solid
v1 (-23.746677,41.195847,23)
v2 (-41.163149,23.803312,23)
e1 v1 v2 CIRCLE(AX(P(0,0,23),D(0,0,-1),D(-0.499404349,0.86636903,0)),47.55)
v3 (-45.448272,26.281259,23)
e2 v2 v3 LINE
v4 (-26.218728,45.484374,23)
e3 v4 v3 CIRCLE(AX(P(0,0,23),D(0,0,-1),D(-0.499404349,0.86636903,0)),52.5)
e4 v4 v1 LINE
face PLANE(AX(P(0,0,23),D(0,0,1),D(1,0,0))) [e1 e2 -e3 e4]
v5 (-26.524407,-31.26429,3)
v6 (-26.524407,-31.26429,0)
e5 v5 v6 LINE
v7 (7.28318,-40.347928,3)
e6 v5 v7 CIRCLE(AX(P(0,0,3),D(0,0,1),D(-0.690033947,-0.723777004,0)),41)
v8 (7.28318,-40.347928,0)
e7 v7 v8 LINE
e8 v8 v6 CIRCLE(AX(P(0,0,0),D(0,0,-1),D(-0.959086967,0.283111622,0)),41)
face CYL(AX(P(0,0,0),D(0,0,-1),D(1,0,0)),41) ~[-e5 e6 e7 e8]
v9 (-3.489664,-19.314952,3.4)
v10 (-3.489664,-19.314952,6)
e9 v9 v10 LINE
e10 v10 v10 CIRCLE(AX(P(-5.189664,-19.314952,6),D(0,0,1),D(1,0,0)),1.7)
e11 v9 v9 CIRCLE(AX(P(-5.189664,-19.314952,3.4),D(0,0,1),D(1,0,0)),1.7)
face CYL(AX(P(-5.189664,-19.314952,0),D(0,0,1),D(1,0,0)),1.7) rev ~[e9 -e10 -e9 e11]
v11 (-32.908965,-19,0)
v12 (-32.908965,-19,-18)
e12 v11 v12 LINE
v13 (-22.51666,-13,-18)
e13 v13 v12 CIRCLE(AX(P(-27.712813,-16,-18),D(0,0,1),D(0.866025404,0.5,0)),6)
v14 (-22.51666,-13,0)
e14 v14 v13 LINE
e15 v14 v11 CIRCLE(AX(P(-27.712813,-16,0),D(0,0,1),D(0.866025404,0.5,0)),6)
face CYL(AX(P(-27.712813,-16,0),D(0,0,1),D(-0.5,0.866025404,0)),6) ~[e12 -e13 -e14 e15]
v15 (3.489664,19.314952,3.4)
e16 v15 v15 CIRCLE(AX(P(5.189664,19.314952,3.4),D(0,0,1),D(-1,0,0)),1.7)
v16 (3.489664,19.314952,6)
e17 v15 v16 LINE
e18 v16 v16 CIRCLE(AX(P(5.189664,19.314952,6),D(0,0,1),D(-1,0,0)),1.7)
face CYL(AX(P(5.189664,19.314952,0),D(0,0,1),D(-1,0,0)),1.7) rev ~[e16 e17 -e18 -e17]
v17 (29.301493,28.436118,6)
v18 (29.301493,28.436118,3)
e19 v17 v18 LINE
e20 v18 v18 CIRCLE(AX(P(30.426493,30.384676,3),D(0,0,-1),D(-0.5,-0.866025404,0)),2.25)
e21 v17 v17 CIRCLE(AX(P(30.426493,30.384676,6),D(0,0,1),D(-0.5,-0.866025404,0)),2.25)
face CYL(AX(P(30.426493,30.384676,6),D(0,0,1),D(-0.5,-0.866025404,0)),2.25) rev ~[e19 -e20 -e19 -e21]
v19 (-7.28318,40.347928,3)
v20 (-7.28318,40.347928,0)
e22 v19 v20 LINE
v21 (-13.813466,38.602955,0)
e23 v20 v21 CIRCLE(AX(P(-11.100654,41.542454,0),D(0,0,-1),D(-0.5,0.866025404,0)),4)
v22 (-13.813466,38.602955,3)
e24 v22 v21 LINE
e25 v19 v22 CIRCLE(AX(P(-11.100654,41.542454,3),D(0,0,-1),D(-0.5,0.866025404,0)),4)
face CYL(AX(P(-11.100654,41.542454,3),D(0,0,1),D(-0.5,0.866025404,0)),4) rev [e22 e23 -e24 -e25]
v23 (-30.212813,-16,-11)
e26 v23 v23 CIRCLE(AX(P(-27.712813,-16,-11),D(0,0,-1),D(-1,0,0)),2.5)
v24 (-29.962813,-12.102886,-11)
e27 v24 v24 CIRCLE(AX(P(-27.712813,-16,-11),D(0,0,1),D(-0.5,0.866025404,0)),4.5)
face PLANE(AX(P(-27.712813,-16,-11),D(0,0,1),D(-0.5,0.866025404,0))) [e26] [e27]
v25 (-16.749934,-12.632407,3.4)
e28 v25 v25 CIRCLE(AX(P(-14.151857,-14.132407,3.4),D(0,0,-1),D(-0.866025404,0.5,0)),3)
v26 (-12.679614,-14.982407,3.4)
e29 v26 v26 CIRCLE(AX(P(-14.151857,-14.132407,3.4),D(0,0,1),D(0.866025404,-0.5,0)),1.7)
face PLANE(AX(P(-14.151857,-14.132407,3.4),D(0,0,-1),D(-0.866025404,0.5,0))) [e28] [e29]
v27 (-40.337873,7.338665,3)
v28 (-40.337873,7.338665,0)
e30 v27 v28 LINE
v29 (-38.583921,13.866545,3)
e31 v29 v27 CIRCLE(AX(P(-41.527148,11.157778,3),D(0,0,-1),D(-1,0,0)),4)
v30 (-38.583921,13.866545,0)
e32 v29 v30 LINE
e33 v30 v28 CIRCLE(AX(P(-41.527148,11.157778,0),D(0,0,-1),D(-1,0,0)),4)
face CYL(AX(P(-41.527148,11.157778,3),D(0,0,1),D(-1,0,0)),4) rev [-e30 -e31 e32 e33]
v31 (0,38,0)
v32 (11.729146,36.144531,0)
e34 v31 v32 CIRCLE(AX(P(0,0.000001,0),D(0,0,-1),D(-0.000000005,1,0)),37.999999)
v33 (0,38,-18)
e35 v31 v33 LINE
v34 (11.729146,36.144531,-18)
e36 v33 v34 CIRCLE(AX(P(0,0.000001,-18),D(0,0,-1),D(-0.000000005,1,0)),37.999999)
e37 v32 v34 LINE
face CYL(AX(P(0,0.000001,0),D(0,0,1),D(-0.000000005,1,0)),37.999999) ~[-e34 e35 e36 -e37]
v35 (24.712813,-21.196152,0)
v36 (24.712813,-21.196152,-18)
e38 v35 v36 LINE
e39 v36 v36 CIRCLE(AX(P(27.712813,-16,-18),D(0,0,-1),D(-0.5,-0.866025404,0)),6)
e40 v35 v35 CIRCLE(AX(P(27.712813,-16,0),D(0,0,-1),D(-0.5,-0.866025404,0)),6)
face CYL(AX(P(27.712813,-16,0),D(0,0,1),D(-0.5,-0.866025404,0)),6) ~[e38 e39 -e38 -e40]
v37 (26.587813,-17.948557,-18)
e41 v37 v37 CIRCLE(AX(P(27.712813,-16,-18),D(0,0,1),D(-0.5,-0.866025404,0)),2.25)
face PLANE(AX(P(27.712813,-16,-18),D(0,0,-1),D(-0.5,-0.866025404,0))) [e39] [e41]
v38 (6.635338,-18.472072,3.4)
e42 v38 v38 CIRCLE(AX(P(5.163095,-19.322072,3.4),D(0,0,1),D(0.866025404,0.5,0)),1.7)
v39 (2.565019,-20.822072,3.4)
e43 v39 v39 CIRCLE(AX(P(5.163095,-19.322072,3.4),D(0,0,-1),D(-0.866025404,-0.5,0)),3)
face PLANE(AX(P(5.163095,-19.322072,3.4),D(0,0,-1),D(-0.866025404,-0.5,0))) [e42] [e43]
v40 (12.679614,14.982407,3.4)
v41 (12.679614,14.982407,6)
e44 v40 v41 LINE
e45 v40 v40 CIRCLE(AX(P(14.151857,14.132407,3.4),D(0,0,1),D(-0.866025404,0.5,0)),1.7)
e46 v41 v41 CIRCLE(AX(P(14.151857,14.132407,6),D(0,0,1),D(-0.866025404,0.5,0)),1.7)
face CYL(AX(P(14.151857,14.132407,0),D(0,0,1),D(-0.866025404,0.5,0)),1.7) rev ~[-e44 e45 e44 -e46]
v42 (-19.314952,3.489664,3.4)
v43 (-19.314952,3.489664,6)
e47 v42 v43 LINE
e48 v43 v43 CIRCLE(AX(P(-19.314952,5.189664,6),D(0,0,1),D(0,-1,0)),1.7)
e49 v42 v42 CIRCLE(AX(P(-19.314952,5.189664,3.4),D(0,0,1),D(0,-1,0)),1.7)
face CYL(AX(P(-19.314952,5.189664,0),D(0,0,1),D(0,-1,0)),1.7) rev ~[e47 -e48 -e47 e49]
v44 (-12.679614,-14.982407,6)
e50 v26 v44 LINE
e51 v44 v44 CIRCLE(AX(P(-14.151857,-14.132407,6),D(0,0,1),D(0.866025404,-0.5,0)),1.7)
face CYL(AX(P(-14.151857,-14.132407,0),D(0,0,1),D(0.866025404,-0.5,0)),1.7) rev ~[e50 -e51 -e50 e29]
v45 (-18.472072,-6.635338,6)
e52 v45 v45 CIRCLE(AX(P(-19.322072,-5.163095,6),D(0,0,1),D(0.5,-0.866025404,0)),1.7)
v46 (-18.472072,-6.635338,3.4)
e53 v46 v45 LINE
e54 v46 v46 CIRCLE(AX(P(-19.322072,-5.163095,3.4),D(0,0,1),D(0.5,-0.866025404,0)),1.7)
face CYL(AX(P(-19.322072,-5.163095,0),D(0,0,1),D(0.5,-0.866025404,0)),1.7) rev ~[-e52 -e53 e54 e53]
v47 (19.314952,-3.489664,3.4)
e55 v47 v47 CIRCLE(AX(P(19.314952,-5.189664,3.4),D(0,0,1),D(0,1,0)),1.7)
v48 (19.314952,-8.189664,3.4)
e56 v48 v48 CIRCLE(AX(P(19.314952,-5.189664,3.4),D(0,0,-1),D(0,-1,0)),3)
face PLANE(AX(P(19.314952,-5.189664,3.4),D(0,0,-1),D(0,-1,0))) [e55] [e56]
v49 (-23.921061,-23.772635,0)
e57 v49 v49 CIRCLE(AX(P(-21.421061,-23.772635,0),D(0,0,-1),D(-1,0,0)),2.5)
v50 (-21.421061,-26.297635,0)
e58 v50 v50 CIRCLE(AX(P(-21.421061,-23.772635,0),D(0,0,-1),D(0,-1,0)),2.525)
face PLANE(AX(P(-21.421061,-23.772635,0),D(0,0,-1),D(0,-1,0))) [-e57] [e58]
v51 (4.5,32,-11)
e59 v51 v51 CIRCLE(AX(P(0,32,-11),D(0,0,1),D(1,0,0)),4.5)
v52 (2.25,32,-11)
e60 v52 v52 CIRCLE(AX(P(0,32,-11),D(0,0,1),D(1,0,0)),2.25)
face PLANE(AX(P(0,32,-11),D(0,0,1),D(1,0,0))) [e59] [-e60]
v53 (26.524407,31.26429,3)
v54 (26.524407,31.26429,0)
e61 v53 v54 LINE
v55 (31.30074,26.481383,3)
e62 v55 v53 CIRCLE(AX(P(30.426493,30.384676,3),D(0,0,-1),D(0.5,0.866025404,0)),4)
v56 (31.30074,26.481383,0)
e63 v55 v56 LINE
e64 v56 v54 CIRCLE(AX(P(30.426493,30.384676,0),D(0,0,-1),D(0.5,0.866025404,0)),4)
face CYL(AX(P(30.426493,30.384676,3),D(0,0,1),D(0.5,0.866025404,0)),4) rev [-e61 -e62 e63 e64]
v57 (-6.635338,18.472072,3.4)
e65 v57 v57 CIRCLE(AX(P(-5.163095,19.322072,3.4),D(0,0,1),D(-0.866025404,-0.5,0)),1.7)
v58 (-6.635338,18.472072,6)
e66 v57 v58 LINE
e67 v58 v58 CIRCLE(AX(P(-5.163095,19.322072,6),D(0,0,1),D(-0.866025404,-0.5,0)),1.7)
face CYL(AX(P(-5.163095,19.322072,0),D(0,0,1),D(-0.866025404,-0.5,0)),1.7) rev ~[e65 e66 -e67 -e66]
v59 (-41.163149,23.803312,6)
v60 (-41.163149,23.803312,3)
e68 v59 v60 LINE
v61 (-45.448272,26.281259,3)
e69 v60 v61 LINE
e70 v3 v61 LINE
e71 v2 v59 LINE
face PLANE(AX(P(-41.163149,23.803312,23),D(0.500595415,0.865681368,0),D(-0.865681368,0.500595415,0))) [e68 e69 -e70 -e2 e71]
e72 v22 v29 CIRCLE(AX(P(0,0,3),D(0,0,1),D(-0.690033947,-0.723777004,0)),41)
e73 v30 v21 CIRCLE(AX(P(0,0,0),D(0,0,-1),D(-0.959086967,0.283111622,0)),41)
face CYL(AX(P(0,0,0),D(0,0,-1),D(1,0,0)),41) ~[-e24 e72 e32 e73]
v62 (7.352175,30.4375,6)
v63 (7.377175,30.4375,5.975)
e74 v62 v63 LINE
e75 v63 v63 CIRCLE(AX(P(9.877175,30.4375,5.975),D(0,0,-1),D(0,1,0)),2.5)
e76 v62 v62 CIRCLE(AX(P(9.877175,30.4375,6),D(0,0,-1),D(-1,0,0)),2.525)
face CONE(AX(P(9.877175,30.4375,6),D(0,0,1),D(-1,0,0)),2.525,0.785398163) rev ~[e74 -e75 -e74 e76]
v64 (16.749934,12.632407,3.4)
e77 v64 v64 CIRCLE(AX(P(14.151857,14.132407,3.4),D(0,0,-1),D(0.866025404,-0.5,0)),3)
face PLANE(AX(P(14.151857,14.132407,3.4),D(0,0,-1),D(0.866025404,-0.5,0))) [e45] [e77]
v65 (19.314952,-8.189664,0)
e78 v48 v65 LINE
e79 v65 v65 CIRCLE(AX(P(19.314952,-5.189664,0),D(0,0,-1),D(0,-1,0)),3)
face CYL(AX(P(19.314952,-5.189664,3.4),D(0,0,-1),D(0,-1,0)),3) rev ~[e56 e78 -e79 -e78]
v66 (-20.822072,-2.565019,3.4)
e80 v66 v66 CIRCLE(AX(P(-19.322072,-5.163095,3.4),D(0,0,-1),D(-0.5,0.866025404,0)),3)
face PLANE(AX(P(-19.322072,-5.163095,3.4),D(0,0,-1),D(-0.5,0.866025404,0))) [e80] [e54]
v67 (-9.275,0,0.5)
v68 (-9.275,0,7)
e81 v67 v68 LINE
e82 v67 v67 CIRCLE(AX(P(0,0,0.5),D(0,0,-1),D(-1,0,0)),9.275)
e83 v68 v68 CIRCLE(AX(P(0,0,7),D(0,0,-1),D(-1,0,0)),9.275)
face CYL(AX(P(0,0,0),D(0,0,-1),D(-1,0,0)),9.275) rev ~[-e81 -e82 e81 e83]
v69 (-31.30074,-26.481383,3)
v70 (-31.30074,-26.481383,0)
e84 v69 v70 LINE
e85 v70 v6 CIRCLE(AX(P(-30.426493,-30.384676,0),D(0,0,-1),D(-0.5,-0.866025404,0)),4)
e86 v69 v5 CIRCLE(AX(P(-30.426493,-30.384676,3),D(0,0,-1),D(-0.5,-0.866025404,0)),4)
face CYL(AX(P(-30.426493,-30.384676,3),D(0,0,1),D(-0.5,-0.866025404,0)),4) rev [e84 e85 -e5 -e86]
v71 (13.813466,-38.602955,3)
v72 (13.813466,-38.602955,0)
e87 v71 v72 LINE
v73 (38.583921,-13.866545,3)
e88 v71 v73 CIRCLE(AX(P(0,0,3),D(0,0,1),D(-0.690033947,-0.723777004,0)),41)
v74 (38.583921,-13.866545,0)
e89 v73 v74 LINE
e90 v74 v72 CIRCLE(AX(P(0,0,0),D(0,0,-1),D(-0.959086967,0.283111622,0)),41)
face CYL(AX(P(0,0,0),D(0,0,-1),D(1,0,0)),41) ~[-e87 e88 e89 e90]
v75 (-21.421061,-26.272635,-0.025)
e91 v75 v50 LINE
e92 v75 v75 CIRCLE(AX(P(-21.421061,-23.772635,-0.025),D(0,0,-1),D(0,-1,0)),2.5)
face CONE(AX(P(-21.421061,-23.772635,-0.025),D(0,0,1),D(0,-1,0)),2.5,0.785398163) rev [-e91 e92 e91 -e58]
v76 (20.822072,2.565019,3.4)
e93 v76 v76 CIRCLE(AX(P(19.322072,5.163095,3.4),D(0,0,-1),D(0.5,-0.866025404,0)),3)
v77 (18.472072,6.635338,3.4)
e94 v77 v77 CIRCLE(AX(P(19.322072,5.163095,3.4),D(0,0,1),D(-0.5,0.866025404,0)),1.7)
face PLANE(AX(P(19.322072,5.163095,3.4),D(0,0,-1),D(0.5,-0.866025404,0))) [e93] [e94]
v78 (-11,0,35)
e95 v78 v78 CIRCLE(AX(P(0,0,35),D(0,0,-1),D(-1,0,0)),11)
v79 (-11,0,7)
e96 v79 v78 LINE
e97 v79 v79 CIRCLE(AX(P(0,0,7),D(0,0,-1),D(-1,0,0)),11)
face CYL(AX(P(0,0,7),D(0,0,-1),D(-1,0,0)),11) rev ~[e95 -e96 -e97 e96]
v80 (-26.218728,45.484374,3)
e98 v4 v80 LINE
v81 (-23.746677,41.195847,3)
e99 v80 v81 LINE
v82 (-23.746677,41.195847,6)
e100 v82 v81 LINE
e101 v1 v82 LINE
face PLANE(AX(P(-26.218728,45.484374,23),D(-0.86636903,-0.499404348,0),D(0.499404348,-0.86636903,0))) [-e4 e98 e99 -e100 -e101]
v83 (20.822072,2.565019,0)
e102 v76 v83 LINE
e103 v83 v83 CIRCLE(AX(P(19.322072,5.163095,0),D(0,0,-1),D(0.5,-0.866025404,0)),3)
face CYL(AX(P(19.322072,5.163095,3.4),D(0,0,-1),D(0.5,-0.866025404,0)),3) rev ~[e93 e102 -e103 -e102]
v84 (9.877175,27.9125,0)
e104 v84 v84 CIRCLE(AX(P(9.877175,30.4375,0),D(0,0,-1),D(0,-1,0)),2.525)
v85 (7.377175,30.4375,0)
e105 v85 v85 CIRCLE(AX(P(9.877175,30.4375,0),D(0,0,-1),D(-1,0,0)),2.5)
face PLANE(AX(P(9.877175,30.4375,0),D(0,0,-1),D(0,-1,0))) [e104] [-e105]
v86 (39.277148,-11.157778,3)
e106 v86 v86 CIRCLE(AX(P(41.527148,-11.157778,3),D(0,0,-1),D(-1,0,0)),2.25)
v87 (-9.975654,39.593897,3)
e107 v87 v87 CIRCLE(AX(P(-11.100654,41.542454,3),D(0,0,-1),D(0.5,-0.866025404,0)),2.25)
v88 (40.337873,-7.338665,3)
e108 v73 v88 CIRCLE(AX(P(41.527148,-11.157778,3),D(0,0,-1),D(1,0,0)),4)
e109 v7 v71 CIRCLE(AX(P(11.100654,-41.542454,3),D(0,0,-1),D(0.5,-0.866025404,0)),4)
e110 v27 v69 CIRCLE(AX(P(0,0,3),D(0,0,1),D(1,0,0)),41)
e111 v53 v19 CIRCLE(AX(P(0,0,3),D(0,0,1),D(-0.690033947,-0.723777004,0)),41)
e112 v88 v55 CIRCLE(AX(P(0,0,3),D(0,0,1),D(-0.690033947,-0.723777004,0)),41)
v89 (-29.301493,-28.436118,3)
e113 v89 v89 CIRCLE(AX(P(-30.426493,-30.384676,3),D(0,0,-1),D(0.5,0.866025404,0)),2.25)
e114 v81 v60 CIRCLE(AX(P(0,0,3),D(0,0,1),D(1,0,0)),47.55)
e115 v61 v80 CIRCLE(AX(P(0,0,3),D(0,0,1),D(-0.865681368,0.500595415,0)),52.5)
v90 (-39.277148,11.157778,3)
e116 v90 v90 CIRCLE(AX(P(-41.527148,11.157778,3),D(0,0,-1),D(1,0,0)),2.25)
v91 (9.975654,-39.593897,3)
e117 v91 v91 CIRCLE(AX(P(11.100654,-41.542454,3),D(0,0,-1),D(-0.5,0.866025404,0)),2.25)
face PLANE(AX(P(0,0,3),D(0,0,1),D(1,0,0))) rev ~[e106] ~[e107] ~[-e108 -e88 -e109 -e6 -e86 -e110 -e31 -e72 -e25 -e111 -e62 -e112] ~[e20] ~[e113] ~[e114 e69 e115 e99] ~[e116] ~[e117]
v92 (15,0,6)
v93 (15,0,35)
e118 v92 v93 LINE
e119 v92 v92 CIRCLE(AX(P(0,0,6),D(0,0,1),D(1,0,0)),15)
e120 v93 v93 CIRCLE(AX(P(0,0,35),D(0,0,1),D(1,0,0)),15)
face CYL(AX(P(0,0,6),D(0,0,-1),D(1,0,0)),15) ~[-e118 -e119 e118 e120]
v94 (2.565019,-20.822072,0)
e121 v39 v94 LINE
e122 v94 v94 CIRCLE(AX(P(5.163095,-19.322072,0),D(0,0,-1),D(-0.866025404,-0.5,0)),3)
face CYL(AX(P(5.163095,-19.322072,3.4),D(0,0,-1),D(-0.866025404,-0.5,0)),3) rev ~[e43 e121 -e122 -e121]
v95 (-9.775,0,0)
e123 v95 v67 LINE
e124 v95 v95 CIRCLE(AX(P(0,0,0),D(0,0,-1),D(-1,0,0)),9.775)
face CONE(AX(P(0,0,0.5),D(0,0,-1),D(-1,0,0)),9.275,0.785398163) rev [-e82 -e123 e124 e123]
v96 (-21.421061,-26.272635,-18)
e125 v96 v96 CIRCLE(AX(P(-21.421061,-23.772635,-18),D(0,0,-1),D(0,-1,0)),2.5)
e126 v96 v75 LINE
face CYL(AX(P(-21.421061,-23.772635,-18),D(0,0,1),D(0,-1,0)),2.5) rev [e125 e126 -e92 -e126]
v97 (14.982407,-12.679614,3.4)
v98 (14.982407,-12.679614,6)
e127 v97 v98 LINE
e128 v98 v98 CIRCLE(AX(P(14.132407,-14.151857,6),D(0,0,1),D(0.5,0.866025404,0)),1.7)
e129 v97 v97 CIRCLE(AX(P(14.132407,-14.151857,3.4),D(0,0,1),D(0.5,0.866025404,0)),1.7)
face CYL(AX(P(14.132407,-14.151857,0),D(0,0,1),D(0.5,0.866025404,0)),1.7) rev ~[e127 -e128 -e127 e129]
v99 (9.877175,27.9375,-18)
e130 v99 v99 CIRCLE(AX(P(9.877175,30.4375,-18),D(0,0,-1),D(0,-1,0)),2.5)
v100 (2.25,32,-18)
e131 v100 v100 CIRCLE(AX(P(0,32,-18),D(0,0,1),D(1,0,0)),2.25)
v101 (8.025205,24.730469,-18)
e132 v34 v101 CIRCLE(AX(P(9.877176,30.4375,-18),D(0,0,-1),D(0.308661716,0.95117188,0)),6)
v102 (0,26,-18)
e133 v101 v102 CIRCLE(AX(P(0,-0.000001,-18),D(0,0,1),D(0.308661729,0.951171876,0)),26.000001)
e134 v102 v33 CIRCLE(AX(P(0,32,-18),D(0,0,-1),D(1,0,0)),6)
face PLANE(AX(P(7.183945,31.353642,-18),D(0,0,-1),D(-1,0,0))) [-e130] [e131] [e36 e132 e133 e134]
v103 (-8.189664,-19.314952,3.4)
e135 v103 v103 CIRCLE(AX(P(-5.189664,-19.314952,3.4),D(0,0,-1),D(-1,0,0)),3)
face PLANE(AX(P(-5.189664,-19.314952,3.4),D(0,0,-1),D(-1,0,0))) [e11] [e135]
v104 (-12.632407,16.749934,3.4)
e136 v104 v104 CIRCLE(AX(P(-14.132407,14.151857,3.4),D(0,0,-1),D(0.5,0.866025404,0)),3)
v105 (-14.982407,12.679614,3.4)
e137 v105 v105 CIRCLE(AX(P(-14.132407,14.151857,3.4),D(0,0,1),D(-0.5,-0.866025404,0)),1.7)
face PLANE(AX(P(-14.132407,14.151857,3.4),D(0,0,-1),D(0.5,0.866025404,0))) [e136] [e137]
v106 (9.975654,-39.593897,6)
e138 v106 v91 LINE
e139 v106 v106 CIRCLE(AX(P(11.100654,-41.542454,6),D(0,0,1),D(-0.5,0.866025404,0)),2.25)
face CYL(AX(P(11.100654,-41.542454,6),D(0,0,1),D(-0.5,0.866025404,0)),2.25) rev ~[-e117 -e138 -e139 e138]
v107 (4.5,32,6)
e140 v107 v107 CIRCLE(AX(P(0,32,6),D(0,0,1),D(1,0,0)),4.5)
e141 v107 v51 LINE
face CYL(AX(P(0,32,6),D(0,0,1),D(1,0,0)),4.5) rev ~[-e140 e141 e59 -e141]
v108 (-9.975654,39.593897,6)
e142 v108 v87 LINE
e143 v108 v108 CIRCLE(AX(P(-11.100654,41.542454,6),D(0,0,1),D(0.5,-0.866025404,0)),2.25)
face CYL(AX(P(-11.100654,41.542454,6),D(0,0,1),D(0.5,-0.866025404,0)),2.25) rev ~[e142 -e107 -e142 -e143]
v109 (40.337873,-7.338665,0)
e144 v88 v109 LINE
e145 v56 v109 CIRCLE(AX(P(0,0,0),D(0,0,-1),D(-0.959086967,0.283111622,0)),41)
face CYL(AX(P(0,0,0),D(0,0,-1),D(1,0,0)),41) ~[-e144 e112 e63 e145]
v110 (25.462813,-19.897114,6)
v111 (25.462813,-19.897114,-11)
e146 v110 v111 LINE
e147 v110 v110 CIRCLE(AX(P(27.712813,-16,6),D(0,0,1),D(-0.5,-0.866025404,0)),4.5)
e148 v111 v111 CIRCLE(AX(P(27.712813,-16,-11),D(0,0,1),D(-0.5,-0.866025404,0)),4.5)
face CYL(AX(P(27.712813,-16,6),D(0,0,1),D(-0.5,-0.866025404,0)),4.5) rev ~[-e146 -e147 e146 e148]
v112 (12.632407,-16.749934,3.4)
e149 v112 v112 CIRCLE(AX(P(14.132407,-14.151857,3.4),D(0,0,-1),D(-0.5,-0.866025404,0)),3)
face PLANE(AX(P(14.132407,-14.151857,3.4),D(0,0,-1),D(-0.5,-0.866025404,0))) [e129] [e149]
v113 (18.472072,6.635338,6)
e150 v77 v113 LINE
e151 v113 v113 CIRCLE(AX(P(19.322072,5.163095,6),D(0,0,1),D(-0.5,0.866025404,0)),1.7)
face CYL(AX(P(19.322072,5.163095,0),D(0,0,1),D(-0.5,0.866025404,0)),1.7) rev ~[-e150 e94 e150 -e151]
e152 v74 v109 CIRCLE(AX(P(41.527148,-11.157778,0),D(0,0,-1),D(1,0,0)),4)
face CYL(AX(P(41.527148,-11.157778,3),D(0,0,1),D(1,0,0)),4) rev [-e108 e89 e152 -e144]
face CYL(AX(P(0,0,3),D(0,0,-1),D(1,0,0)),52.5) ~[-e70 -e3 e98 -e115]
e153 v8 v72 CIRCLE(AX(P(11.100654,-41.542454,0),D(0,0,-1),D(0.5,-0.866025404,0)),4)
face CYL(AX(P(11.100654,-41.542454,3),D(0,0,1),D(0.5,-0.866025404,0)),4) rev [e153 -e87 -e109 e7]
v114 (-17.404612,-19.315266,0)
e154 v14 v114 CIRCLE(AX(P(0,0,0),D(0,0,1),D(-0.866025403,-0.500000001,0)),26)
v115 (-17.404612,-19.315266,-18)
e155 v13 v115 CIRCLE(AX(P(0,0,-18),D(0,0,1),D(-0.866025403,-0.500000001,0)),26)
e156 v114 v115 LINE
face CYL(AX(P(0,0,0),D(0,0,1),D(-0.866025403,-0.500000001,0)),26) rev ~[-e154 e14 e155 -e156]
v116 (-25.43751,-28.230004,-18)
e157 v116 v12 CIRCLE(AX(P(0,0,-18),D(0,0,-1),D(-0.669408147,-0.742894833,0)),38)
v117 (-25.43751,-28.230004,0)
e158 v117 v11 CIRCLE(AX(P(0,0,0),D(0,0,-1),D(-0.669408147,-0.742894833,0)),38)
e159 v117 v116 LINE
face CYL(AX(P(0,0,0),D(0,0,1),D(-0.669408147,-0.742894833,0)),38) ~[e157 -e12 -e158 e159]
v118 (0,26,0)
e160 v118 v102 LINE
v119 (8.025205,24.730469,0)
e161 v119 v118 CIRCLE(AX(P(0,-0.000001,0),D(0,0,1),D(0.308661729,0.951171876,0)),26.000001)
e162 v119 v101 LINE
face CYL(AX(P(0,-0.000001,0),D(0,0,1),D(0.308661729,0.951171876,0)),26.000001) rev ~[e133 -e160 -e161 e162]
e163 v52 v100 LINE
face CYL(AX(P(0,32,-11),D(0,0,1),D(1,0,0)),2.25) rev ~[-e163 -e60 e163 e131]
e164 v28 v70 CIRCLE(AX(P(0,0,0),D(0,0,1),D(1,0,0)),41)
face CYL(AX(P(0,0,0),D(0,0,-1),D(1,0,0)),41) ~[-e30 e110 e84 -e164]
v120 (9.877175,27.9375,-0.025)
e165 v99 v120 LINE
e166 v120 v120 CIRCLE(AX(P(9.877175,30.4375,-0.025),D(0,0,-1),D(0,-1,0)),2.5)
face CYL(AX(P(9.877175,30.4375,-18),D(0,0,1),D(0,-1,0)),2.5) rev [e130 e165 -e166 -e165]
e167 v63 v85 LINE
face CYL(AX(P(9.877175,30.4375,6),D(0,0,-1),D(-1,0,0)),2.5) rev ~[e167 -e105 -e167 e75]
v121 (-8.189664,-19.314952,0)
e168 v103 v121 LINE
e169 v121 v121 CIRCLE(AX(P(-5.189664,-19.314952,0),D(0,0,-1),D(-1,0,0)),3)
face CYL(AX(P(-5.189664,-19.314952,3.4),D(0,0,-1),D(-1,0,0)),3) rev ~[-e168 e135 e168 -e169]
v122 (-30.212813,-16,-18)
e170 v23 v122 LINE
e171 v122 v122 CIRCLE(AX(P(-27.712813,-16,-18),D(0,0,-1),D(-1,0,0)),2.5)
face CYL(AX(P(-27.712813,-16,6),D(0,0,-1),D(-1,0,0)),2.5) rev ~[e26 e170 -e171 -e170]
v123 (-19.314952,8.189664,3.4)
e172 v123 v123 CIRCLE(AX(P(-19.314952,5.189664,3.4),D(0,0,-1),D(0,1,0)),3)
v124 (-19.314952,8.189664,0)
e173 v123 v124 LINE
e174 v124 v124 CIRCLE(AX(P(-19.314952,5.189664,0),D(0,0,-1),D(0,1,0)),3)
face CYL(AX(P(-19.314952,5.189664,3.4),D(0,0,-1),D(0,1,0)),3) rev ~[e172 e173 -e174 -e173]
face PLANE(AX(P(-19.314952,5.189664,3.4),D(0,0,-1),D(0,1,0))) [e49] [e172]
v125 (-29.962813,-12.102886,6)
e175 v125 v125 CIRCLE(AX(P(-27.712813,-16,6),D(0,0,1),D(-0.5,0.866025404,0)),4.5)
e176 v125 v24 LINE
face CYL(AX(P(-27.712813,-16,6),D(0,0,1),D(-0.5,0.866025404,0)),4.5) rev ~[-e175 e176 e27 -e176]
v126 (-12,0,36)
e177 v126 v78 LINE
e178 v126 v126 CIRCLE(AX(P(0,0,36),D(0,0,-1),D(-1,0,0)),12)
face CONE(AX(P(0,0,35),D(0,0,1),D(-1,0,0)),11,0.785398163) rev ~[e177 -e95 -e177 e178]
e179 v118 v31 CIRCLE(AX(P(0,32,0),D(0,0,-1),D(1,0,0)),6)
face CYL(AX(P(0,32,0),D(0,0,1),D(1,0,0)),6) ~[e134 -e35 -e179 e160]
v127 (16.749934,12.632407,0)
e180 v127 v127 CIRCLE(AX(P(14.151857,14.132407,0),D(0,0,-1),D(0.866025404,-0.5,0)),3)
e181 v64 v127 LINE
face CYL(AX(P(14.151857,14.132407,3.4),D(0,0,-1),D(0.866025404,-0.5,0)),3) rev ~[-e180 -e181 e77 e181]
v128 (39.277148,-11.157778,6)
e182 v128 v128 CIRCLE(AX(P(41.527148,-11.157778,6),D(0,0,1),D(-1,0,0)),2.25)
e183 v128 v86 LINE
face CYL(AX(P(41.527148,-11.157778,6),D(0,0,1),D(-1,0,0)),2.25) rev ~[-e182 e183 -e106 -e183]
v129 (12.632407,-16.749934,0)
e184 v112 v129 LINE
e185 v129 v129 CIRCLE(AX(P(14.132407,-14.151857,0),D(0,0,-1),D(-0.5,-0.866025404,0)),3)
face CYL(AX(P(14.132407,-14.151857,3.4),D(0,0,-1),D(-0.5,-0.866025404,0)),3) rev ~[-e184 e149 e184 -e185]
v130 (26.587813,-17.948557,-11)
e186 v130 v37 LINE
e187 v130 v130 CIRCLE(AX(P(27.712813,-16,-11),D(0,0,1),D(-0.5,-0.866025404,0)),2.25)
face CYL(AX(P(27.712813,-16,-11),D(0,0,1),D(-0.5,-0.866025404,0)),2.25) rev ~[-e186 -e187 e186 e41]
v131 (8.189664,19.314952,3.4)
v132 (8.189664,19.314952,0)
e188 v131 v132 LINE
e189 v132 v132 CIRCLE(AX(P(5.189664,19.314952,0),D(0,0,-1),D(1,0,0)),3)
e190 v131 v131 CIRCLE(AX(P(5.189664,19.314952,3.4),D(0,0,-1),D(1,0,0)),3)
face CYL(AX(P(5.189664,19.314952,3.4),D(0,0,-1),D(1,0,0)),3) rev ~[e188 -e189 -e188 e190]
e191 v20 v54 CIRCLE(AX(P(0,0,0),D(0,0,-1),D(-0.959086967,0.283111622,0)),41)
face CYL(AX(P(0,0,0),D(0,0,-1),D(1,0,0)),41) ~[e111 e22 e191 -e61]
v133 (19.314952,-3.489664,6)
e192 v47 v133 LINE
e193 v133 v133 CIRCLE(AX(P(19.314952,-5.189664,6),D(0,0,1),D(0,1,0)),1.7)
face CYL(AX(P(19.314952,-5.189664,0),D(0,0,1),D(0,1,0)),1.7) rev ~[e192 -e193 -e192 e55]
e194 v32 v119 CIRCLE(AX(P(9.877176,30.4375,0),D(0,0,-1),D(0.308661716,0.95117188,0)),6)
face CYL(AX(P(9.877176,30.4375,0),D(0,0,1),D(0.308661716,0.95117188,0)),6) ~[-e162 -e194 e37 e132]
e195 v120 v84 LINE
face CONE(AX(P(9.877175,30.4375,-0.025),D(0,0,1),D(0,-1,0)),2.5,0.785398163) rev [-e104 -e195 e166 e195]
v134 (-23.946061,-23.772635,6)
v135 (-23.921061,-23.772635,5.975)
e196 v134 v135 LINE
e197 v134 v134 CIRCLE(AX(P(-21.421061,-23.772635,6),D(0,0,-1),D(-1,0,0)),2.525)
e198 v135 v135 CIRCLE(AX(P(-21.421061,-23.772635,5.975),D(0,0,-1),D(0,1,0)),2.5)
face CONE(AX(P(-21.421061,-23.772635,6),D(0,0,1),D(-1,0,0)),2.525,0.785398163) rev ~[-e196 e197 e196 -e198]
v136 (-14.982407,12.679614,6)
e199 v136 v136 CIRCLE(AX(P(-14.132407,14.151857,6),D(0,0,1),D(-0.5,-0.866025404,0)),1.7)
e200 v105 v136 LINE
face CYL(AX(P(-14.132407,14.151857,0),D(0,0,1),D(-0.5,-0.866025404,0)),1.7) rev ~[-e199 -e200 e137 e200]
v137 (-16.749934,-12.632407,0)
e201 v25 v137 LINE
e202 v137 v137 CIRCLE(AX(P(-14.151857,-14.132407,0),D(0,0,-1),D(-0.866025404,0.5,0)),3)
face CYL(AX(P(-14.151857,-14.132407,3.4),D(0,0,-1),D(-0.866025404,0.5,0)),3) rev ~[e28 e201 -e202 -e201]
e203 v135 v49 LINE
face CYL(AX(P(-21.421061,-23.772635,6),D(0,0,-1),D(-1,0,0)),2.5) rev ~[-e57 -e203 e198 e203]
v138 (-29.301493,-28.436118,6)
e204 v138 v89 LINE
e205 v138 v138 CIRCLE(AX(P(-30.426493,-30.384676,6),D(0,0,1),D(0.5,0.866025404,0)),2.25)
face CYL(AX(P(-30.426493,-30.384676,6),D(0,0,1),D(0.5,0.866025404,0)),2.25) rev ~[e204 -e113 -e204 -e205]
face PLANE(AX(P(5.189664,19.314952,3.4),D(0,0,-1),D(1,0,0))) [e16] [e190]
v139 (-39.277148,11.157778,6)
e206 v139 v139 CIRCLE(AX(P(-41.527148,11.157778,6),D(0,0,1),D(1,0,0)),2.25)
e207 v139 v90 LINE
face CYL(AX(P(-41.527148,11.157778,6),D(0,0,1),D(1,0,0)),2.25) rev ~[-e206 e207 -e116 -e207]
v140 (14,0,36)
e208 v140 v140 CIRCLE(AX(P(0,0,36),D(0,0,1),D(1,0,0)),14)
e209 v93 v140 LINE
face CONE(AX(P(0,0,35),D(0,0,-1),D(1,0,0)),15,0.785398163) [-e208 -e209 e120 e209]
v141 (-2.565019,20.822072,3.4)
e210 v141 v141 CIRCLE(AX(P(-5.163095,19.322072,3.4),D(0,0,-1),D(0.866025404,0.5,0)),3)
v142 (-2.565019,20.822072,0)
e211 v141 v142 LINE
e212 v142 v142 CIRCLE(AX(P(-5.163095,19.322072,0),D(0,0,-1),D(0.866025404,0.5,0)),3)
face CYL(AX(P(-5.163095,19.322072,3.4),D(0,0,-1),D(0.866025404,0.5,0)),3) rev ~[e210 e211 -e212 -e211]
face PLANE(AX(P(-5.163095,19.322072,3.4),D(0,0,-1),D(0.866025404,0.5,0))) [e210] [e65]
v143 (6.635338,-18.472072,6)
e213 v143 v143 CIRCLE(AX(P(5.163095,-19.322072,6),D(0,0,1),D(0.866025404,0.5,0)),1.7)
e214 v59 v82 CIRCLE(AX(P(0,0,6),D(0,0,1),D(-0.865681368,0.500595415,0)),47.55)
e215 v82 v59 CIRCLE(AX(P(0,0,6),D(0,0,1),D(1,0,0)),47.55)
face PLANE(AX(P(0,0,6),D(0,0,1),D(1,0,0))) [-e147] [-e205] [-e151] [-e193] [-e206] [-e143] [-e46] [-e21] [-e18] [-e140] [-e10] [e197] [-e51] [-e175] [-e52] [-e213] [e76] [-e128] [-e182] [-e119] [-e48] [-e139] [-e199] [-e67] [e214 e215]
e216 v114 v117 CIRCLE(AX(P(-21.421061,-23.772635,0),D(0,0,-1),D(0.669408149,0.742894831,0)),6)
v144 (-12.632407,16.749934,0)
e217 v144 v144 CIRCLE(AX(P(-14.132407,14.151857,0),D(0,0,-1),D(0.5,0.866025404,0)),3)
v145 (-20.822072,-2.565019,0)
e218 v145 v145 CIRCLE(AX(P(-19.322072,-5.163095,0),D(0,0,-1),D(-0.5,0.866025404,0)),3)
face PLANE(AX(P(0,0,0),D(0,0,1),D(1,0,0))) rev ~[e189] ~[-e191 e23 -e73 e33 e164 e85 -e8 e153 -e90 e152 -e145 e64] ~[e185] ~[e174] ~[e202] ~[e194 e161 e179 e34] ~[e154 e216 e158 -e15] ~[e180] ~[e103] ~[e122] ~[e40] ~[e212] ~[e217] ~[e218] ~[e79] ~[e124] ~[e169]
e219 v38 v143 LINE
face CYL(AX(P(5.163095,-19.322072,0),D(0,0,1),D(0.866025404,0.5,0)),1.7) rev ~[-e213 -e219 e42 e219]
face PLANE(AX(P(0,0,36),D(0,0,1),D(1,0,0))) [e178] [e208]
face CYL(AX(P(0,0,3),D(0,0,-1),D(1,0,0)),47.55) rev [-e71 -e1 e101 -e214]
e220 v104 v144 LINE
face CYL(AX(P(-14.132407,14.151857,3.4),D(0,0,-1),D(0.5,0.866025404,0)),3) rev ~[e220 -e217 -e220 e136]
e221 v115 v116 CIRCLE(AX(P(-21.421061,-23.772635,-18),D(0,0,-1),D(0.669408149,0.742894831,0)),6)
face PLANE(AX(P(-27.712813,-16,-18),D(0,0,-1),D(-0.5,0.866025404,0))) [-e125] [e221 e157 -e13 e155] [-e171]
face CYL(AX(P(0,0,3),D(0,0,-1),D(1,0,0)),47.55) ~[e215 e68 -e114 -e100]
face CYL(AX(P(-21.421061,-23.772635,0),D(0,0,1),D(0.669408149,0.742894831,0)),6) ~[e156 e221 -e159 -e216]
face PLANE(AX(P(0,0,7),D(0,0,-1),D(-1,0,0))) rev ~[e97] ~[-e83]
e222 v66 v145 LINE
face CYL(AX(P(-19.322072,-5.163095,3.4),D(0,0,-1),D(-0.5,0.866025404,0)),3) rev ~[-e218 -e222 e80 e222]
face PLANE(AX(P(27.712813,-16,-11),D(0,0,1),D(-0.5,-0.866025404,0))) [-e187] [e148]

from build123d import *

# Parameters (mm, degrees)
SKETCH_1_R                   = 41
EXTRUDE_1_DEPTH              = 6
SKETCH_2_R                   = 15
EXTRUDE_2_DEPTH              = 30
SKETCH_3_R                   = 9.275
CUT_EXTRUDE_2_DEPTH          = 7
SKETCH_6_R                   = 11
CUT_EXTRUDE_3_DEPTH          = 65.830548355
CHAMFER_1_SIZE               = 0.5
SKETCH_7_R                   = 6
EXTRUDE_3_DEPTH              = 18
PATTERN_CIRCULAR_1_COUNT     = 3
SKETCH_8_R                   = 4.5
CUT_EXTRUDE_4_DEPTH          = 17
PATTERN_CIRCULAR_2_COUNT     = 3
SKETCH_9_R                   = 2.25
CUT_EXTRUDE_5_DEPTH          = 75.639131828
PATTERN_CIRCULAR_3_COUNT     = 3
F_5_0MM_1_D                  = 5
F_5_0MM_1_CSINK_D            = 5.05
F_5_0MM_1_CSINK_ANGLE        = 90
F_5_0MM_2_D                  = 5
F_5_0MM_2_CSINK_D            = 5.05
F_5_0MM_2_CSINK_ANGLE        = 90
EXTRUDE_5_DEPTH              = 18
F_5_0MM_3_AT_2_COUNT         = 2
F_5_0MM_3_AT_2_PITCH         = 62.596471695
EXTRUDE_6_DEPTH              = 17
EXTRUDE_6_DEPTH_BACK         = 3
SKETCH_20_R                  = 52.5
SKETCH_20_R_2                = 47.55
CUT_EXTRUDE_6_DEPTH          = 85.814503477
EXTRUDE_START                = -3
SKETCH_25_R                  = 47.55
SKETCH_25_R_2                = 41
EXTRUDE_7_DEPTH              = 3
HOLE_WIZARD_M3_1_D           = 3.4
HOLE_WIZARD_M3_1_CBORE_D     = 6
HOLE_WIZARD_M3_1_CBORE_DEPTH = 3.4
PATTERN_CIRCULAR_4_COUNT     = 12
CHAMFER_2_SIZE               = 1
SKETCH_30_R                  = 2.25
CUT_EXTRUDE_9_DEPTH          = 81.07808689
PATTERN_CIRCULAR_16_COUNT    = 6
SKETCH_31_R                  = 4
CUT_EXTRUDE_10_DEPTH         = 3
PATTERN_CIRCULAR_17_COUNT    = 6


with BuildPart() as part:
    # 草图1 → 凸台-拉伸1 (new body)
    with BuildSketch(Plane.XY):
        Circle(SKETCH_1_R)
    extrude(amount=EXTRUDE_1_DEPTH)

    # 草图2 → 凸台-拉伸2 (add)
    with BuildSketch(Plane.XY.offset(6)):
        Circle(SKETCH_2_R)
    extrude(amount=EXTRUDE_2_DEPTH)

    # 草图3 → 切除-拉伸2 (cut)
    with BuildSketch(Plane(origin=(0, 0, 0), x_dir=(-1, 0, 0), z_dir=(0, 0, -1))):
        Circle(SKETCH_3_R)
    extrude(amount=-CUT_EXTRUDE_2_DEPTH, mode=Mode.SUBTRACT)

    # 草图6 → 切除-拉伸3 (cut, through all)
    with BuildSketch(Plane(origin=(0, 0, 7), x_dir=(-1, 0, 0), z_dir=(0, 0, -1))):
        Circle(SKETCH_6_R)
    extrude(amount=-CUT_EXTRUDE_3_DEPTH, mode=Mode.SUBTRACT)

    # 倒角1
    chamfer_1_edges = [part.edges().sort_by_distance(p)[0] for p in [
        (9.275, 0, 0),
    ]]
    chamfer(chamfer_1_edges, length=CHAMFER_1_SIZE)

    # 草图7 → 凸台-拉伸3 (add)
    with BuildSketch(Plane(origin=(0, 0, 0), x_dir=(-1, 0, 0), z_dir=(0, 0, -1))):
        with Locations(Location((0, 32, 0), (0, 0, 180))):
            Circle(SKETCH_7_R)
    extrude_3 = extrude(amount=EXTRUDE_3_DEPTH)

    # 阵列(圆周)1: 凸台-拉伸3 ×3 about axis
    pattern_circular_1_axis = Axis((0, 0, 0), (0, 0, 1))
    for i in range(1, PATTERN_CIRCULAR_1_COUNT):
        add(extrude_3.rotate(pattern_circular_1_axis, i * 360 / PATTERN_CIRCULAR_1_COUNT))

    # 草图8 → 切除-拉伸4 (cut)
    with BuildSketch(Plane.XY.offset(6)):
        with Locations((0, 32)):
            Circle(SKETCH_8_R)
    cut_extrude_4 = extrude(amount=-CUT_EXTRUDE_4_DEPTH, mode=Mode.SUBTRACT)

    # 阵列(圆周)2: 切除-拉伸4 ×3 about axis
    pattern_circular_2_axis = Axis((0, 0, 0), (0, 0, 1))
    for i in range(1, PATTERN_CIRCULAR_2_COUNT):
        add(cut_extrude_4.rotate(pattern_circular_2_axis, i * 360 / PATTERN_CIRCULAR_2_COUNT), mode=Mode.SUBTRACT)

    # 草图9 → 切除-拉伸5 (cut, through all)
    with BuildSketch(Plane.XY.offset(-11)):
        with Locations((0, 32)):
            Circle(SKETCH_9_R)
    cut_extrude_5 = extrude(amount=-CUT_EXTRUDE_5_DEPTH, mode=Mode.SUBTRACT)

    # 阵列(圆周)3: 切除-拉伸5 ×3 about axis
    pattern_circular_3_axis = Axis((0, 0, 0), (0, 0, 1))
    for i in range(1, PATTERN_CIRCULAR_3_COUNT):
        add(cut_extrude_5.rotate(pattern_circular_3_axis, i * 360 / PATTERN_CIRCULAR_3_COUNT), mode=Mode.SUBTRACT)

    # Ø5.0mm 暗销孔1 (through all)
    with Locations(Plane.XY.offset(6)):
        with Locations((-21.421060687, -23.772634646), (-27.712813081, -15.99999984)):
            CounterSinkHole(F_5_0MM_1_D / 2, F_5_0MM_1_CSINK_D / 2, counter_sink_angle=F_5_0MM_1_CSINK_ANGLE)

    # Ø5.0mm 暗销孔2 (through all)
    with Locations(Plane.XY.offset(6)):
        with Locations((9.877175378, 30.437499903)):
            CounterSinkHole(F_5_0MM_2_D / 2, F_5_0MM_2_CSINK_D / 2, counter_sink_angle=F_5_0MM_2_CSINK_ANGLE)

    # 草图18 → 凸台-拉伸5 (add)
    with BuildSketch(Plane(origin=(0, 0, 0), x_dir=(-1, 0, 0), z_dir=(0, 0, -1))):
        with BuildLine():
            ThreePointArc((-11.729145803, 36.144531262), (-15.584206737, 28.585529478), (-8.025205013, 24.730468729))
            ThreePointArc((-8.025205013, 24.730468729), (-4.062500003, 25.680656004), (0, 26))
            ThreePointArc((0, 26), (-6, 32), (0, 38))
            ThreePointArc((0, 38), (-5.937500012, 37.533266511), (-11.729145803, 36.144531262))
        make_face()
        with BuildLine():
            ThreePointArc((17.404611815, -19.315265657), (16.963691699, -27.789083518), (25.437509581, -28.230003658))
            ThreePointArc((25.437509581, -28.230003658), (29.536012358, -23.90865898), (32.908965344, -19))
            ThreePointArc((32.908965344, -19), (24.712812921, -21.196152423), (22.516660498, -13))
            ThreePointArc((22.516660498, -13), (20.208850557, -16.358556141), (17.404611815, -19.315265657))
        make_face()
    extrude(amount=EXTRUDE_5_DEPTH)

    # 草图19 → Ø5.0mm 暗销孔3 (revolve, cut)
    with BuildSketch(Plane(origin=(9.877175378, 30.437499903, 0), x_dir=(0, -1, 0), z_dir=(1, 0, 0))):
        Polygon((0, 0), (0, 18), (2.5, 18), (2.5, 0.025), (2.525, 0), align=None)
    f_5_0mm_3 = revolve(axis=Axis((9.877175378, 30.437499903, 6.35), (0, 0, -1)), mode=Mode.SUBTRACT)

    # Ø5.0mm 暗销孔3 at 2: Ø5.0mm 暗销孔3 ×2
    with Locations(*[Vector(-0.5000000034830118, -0.8660254017735209, 0) * (i * F_5_0MM_3_AT_2_PITCH) for i in range(1, F_5_0MM_3_AT_2_COUNT)]):
        add(f_5_0mm_3, mode=Mode.SUBTRACT)



with BuildPart() as body_2:
    # 草图20 → 凸台-拉伸6 (new, two sides: drawn at the far end of the back side and taken through both)
    with BuildSketch(Plane.XY.offset(6).offset(-EXTRUDE_6_DEPTH_BACK)):
        Circle(SKETCH_20_R)
        Circle(SKETCH_20_R_2, mode=Mode.SUBTRACT)
    extrude(amount=EXTRUDE_6_DEPTH + EXTRUDE_6_DEPTH_BACK)

    # 草图23 → 切除-拉伸6 (cut, through all)
    with BuildSketch(Plane.XY.offset(23)):
        with BuildLine():
            Line((-41.163149036, 23.803311985), (-45.448271806, 26.281259289))
            ThreePointArc((-45.448271806, 26.281259289), (-37.097569065, 37.148625405), (-26.218728298, 45.484374091))
            Line((-26.218728298, 45.484374091), (-23.746676773, 41.195847391))
            ThreePointArc((-23.746676773, 41.195847391), (-33.599798267, 33.646040724), (-41.163149036, 23.803311985))
        make_face()
    extrude(amount=-CUT_EXTRUDE_6_DEPTH, mode=Mode.SUBTRACT)


with BuildPart() as part_1:
    add(part.part)

    add(body_2.part)  # 凸台-拉伸7 merges body 2
    # 草图25 → 凸台-拉伸7 (add)
    with BuildSketch(Plane.XY.offset(6).offset(EXTRUDE_START)):
        Circle(SKETCH_25_R)
        Circle(SKETCH_25_R_2, mode=Mode.SUBTRACT)
    extrude(amount=EXTRUDE_7_DEPTH)

    # M3 六角圆柱头螺钉的柱形沉头孔1 (through all)
    with Locations(Plane(origin=(0, 0, 0), x_dir=(-1, 0, 0), z_dir=(0, 0, -1))):
        with Locations((5.189664299, -19.314952355)):
            hole_wizard_m3_1 = CounterBoreHole(HOLE_WIZARD_M3_1_D / 2, HOLE_WIZARD_M3_1_CBORE_D / 2, HOLE_WIZARD_M3_1_CBORE_DEPTH)

    # 阵列(圆周)4: M3 六角圆柱头螺钉的柱形沉头孔1 ×12 about axis
    pattern_circular_4_axis = Axis((0, 0, 0), (0, 0, 1))
    for i in range(1, PATTERN_CIRCULAR_4_COUNT):
        add(hole_wizard_m3_1.rotate(pattern_circular_4_axis, i * 360 / PATTERN_CIRCULAR_4_COUNT), mode=Mode.SUBTRACT)

    # 倒角2
    chamfer_2_edges = [part_1.edges().sort_by_distance(p)[0] for p in [
        (11, 0, 36),
        (-15, 0, 36),
    ]]
    chamfer(chamfer_2_edges, length=CHAMFER_2_SIZE)

    # 草图30 → 切除-拉伸9 (cut, through all)
    with BuildSketch(Plane.XY.offset(6)):
        with Locations((-41.527147563, 11.157778242)):
            Circle(SKETCH_30_R)
    cut_extrude_9 = extrude(amount=-CUT_EXTRUDE_9_DEPTH, mode=Mode.SUBTRACT)

    # 阵列(圆周)16: 切除-拉伸9 ×6 about axis
    pattern_circular_16_axis = Axis((0, 0, 0), (0, 0, 1))
    for i in range(1, PATTERN_CIRCULAR_16_COUNT):
        add(cut_extrude_9.rotate(pattern_circular_16_axis, i * 360 / PATTERN_CIRCULAR_16_COUNT), mode=Mode.SUBTRACT)

    # 草图31 → 切除-拉伸10 (cut)
    with BuildSketch(Plane(origin=(0, 0, 3), x_dir=(-1, 0, 0), z_dir=(0, 0, -1))):
        with Locations((41.527147563, 11.157778242)):
            Circle(SKETCH_31_R)
    cut_extrude_10 = extrude(amount=CUT_EXTRUDE_10_DEPTH, mode=Mode.SUBTRACT)

    # 阵列(圆周)17: 切除-拉伸10 ×6 about axis
    pattern_circular_17_axis = Axis((0, 0, 0), (0, 0, 1))
    for i in range(1, PATTERN_CIRCULAR_17_COUNT):
        add(cut_extrude_10.rotate(pattern_circular_17_axis, i * 360 / PATTERN_CIRCULAR_17_COUNT), mode=Mode.SUBTRACT)


solid = part_1.part
